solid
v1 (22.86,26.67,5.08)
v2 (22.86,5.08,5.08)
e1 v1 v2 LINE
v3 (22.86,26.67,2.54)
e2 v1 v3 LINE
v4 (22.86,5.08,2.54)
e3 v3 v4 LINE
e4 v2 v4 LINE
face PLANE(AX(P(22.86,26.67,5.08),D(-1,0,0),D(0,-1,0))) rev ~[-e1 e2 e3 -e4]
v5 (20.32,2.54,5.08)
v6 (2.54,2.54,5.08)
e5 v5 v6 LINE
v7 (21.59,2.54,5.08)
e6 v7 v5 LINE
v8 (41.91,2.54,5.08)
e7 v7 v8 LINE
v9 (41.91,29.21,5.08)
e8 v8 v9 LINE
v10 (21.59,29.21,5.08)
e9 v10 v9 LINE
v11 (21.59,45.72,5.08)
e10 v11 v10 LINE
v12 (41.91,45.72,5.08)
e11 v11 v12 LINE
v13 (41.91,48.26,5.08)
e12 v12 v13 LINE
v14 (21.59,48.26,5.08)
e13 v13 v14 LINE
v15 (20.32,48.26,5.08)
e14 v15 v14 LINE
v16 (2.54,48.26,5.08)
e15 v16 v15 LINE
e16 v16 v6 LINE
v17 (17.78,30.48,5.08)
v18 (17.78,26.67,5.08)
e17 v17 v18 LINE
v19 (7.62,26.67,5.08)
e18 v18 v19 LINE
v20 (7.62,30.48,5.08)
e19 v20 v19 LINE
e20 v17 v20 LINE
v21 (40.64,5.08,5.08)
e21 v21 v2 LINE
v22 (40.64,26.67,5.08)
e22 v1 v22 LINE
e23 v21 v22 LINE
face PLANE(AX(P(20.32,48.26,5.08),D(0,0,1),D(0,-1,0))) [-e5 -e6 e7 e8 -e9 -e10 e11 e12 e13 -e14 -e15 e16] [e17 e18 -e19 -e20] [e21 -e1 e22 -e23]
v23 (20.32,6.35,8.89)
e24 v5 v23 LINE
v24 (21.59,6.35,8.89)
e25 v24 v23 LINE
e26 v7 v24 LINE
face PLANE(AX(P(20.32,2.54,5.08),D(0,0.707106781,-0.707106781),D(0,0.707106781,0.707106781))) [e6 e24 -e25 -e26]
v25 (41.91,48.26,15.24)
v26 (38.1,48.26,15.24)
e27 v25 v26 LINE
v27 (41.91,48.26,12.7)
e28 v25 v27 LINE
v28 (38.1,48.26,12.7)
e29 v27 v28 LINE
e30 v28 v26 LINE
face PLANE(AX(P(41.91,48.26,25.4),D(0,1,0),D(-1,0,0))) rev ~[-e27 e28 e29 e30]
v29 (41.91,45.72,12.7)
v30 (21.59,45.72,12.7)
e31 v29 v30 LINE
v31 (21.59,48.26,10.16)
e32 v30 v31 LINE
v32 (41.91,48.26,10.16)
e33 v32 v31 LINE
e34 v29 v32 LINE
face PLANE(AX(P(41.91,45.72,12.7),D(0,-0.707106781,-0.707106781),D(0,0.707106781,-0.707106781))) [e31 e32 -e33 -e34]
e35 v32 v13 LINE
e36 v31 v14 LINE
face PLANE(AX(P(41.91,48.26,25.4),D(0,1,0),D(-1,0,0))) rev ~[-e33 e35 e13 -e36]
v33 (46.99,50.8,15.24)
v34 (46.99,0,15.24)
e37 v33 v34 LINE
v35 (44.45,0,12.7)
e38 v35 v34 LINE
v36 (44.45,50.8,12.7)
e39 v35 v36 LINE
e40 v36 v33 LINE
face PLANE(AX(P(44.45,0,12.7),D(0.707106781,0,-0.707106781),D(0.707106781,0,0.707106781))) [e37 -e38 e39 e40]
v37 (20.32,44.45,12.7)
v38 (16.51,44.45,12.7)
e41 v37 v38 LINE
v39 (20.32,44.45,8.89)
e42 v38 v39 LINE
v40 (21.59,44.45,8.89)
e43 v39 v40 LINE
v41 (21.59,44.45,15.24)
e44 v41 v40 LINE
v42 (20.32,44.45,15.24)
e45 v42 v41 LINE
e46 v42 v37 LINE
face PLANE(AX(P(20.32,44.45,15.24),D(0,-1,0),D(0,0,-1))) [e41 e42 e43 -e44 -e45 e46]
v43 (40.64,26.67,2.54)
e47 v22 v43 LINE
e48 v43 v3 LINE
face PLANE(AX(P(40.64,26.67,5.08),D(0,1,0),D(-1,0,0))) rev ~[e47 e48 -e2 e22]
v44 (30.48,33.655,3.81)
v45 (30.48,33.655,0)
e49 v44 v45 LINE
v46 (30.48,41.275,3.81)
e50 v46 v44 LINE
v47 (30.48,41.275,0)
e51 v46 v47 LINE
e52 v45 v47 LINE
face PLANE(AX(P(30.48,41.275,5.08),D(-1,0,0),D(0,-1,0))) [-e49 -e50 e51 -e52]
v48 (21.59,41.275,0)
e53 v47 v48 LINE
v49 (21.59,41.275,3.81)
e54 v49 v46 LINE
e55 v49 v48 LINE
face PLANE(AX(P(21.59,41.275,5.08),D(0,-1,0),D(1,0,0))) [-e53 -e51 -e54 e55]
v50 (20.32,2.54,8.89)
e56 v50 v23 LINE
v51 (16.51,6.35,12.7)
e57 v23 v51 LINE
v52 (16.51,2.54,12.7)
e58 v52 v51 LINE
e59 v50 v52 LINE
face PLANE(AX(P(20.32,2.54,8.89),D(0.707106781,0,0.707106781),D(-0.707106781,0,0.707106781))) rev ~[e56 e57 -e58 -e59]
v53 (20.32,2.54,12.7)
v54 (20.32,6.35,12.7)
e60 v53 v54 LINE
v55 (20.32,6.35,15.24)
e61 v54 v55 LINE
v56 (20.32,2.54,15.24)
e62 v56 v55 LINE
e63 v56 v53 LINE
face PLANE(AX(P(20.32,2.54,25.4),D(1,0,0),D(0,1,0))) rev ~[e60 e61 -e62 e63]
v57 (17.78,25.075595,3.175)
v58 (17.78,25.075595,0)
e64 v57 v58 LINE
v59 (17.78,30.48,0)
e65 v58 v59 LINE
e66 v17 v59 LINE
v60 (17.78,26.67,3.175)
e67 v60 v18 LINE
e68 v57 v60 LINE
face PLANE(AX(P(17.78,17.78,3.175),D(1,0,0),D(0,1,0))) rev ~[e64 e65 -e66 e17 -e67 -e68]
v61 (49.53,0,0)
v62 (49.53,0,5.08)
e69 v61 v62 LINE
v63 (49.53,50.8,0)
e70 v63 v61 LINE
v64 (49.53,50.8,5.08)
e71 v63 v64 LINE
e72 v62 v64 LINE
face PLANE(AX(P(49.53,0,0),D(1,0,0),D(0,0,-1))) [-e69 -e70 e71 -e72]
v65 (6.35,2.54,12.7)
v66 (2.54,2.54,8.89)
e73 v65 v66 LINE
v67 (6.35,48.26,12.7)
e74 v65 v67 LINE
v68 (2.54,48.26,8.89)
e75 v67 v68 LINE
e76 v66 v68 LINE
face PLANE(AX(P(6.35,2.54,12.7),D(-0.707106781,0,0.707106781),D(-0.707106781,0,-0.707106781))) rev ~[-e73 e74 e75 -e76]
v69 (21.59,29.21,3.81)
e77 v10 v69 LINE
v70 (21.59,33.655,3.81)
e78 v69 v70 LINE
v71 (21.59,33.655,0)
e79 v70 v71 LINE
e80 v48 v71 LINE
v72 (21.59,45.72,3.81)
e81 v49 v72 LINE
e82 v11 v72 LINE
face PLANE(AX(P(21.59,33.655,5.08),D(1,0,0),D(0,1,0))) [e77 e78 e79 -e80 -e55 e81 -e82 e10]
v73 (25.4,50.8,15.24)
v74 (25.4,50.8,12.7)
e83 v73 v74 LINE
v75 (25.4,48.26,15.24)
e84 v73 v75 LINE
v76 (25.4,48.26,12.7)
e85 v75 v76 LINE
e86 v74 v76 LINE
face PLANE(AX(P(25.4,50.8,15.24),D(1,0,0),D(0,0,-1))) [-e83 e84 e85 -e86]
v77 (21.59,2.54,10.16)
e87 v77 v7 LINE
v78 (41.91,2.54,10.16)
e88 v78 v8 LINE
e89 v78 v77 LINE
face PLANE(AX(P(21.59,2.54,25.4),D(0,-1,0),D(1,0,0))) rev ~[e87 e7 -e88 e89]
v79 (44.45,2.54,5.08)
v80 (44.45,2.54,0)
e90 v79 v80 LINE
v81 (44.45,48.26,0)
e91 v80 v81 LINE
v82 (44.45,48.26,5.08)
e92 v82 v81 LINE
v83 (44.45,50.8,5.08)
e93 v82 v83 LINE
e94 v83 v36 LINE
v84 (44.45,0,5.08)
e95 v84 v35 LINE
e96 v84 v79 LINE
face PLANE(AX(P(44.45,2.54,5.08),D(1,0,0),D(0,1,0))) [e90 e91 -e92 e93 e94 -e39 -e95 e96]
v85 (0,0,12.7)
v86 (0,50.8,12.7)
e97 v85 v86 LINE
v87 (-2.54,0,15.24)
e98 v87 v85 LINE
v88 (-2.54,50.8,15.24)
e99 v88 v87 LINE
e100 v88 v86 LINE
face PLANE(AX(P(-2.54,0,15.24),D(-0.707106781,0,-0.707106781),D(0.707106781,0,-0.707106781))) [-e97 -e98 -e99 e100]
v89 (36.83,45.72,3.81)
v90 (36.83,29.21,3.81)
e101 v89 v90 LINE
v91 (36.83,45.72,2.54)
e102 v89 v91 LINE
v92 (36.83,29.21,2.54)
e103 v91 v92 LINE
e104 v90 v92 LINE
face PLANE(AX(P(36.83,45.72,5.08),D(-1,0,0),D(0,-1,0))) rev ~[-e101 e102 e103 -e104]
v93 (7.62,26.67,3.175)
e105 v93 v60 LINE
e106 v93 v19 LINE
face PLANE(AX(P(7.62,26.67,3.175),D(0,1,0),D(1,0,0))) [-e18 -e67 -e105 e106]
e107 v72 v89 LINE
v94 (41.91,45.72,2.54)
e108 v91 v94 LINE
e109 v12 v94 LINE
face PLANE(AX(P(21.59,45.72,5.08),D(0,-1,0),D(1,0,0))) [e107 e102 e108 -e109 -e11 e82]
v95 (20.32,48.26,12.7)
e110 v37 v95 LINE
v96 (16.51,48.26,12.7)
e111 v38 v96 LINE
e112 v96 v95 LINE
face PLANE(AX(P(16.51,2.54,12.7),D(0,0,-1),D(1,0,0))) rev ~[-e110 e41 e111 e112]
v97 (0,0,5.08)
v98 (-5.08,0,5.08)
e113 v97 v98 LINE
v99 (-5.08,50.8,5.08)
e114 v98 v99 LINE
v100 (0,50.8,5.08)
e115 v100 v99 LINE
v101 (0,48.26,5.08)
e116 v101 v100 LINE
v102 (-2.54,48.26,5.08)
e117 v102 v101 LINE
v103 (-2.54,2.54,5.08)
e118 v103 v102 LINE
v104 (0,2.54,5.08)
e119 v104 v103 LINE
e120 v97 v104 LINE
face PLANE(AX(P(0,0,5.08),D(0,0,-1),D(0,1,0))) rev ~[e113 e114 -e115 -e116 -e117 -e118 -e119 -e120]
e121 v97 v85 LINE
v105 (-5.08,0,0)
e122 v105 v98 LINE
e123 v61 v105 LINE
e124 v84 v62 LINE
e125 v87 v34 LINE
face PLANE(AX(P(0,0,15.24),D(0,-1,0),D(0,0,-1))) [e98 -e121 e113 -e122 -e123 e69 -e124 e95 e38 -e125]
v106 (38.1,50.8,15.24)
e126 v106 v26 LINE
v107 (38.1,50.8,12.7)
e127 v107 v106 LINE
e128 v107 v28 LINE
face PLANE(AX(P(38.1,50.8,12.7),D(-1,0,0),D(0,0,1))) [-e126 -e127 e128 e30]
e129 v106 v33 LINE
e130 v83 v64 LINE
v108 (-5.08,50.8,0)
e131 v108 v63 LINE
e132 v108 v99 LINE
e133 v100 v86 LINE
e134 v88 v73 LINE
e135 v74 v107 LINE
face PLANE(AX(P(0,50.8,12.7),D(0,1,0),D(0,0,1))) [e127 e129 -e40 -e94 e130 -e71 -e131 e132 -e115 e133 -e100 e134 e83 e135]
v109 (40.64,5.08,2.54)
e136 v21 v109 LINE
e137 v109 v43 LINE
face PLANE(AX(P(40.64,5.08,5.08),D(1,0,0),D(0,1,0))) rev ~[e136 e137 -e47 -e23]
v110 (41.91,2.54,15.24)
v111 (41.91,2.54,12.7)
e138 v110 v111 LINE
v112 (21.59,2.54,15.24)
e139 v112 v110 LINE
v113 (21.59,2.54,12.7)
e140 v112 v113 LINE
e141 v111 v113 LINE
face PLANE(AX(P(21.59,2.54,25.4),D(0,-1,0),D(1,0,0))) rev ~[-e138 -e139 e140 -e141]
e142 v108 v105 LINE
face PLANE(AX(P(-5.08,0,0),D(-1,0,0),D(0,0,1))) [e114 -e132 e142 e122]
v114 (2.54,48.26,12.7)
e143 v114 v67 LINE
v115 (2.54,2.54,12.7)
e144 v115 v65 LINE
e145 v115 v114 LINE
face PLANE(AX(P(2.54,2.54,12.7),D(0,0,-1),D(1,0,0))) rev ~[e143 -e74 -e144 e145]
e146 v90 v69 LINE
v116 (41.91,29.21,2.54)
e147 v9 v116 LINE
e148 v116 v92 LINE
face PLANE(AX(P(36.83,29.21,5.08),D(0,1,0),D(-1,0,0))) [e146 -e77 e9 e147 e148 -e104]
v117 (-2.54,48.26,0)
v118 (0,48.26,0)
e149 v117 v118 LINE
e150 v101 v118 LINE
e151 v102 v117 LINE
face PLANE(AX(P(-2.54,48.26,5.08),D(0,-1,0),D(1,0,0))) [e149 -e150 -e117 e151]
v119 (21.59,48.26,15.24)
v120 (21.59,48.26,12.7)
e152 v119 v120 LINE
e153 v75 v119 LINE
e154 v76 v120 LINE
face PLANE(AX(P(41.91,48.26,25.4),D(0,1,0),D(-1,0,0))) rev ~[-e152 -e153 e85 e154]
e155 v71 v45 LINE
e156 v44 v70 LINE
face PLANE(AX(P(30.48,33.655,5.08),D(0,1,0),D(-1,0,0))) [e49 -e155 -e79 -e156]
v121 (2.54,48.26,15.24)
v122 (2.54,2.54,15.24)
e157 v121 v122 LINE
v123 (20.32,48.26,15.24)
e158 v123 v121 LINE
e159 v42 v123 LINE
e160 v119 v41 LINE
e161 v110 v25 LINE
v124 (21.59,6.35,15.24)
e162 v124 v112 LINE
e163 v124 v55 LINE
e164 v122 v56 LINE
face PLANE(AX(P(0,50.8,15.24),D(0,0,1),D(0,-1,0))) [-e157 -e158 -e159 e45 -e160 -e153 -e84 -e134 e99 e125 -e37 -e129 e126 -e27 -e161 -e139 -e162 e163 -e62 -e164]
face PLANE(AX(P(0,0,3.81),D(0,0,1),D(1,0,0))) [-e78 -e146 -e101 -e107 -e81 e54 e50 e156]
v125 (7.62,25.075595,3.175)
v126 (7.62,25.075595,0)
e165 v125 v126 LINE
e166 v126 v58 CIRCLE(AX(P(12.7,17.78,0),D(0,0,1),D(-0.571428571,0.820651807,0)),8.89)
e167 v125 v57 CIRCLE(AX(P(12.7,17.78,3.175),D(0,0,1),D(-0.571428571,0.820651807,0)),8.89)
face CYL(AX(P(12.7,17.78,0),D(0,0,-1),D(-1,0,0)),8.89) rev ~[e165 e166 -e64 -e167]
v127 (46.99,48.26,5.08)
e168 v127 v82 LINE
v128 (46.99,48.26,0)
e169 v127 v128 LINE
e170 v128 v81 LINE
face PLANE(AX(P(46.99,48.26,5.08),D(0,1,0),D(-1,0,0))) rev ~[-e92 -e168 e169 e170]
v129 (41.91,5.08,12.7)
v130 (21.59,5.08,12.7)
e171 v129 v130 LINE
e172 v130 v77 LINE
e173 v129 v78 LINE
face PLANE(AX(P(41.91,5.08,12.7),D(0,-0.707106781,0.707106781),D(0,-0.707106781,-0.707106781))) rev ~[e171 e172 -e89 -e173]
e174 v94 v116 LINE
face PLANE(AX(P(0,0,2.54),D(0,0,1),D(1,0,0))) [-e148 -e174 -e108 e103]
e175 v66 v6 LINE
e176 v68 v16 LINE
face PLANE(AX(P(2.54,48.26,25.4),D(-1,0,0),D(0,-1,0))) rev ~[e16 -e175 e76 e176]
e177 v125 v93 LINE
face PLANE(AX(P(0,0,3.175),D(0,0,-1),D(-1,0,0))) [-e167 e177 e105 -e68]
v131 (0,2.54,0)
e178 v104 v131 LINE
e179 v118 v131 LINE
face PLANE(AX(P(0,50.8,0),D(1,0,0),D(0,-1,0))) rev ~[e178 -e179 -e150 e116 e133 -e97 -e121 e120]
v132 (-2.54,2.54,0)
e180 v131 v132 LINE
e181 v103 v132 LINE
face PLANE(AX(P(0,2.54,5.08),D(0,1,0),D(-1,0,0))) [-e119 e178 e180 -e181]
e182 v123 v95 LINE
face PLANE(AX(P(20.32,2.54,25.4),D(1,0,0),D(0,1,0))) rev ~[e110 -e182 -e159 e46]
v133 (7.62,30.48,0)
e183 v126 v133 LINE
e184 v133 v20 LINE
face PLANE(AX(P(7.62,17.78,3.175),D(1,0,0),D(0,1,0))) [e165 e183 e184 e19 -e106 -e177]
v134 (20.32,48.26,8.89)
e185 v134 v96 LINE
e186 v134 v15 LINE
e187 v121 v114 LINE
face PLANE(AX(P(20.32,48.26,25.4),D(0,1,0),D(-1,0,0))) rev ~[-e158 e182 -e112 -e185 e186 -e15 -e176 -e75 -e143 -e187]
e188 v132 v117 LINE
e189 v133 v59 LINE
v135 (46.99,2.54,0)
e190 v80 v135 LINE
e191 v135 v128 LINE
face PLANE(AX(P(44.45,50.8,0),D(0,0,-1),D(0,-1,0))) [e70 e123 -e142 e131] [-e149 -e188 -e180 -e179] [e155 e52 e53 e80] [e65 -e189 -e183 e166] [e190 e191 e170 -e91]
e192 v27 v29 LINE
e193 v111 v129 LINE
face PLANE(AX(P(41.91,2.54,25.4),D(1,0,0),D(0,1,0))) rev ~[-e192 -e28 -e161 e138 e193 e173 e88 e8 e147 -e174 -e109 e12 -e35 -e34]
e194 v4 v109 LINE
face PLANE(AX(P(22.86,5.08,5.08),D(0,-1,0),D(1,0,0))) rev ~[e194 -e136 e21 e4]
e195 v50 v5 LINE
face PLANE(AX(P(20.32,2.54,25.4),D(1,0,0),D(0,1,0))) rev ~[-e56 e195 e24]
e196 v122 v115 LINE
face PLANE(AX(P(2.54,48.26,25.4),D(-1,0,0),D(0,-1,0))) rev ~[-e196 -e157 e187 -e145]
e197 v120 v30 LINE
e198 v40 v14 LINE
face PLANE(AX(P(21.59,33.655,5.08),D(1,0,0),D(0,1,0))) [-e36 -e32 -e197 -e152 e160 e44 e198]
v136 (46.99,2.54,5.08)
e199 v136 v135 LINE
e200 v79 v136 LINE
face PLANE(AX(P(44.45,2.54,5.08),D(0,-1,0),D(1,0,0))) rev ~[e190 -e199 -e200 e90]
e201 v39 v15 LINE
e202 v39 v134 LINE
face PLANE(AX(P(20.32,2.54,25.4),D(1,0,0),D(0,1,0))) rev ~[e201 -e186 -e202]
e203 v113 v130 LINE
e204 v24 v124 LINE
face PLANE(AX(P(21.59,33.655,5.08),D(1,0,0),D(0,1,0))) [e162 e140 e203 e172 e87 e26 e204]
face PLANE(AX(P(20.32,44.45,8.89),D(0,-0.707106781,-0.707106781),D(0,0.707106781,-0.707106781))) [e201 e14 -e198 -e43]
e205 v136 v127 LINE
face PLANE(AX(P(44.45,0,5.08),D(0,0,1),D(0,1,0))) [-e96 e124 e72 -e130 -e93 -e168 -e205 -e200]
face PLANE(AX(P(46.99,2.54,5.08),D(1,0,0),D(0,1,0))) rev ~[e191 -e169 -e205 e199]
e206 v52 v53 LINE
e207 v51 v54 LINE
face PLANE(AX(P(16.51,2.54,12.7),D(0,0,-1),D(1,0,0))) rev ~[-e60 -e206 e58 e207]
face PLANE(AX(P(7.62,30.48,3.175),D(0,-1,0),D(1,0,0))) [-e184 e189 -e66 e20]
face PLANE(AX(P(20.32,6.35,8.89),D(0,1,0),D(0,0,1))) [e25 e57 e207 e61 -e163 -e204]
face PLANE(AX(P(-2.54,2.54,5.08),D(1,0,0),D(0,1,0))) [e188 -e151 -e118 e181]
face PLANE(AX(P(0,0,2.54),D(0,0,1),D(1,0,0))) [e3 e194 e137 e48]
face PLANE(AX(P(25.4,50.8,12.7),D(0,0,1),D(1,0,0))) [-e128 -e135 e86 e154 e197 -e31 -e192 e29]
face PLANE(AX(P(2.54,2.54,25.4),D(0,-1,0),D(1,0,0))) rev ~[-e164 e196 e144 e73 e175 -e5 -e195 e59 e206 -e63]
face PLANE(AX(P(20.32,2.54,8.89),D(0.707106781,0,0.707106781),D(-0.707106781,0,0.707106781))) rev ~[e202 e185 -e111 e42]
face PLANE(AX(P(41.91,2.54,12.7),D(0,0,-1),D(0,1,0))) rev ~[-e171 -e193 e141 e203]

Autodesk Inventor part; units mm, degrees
ref_plane "YZ Plane" through (0, 0, 0) normal (1, 0, 0) x (0, 1, 0)
ref_plane "XZ Plane" through (0, 0, 0) normal (0, 1, 0) x (-1, 0, 0)
ref_plane "XY Plane" through (0, 0, 0) normal (0, 0, 1) x (1, 0, 0)
sketch "Sketch2" plane through (0, 0, 0) normal (0, 0, 1) x (1, 0, 0)
  line L0 (0, 0) -> (44.45, 0)
  line L1 (44.45, 0) -> (44.45, 50.8)
  line L2 (44.45, 50.8) -> (0, 50.8)
  line L3 (0, 50.8) -> (0, 0)
  dimension "d0" = 50.8
  dimension "d1" = 44.45
extrude "Extrusion1" add sketch "Sketch2" along normal blind 25.4
sketch "Sketch3" plane through (0, 0, 25.4) normal (0, 0, 1) x (1, 0, 0)
  line L0 (2.54, 2.54) -> (20.32, 2.54)
  line L1 (20.32, 2.54) -> (20.32, 48.26)
  line L2 (20.32, 48.26) -> (2.54, 48.26)
  line L3 (2.54, 48.26) -> (2.54, 2.54)
  line L4 (0, 0) -> (44.45, 0) projected
  line L5 (0, 50.8) -> (0, 0) projected
  line L6 (44.45, 50.8) -> (0, 50.8) projected
  line L7 (21.59, 2.54) -> (41.91, 2.54)
  line L8 (41.91, 2.54) -> (41.91, 48.26)
  line L9 (41.91, 48.26) -> (21.59, 48.26)
  line L10 (21.59, 48.26) -> (21.59, 2.54)
  line L11 (44.45, 0) -> (44.45, 50.8) projected
  dimension "d4" = 2.54
  dimension "d5" = 2.54
  dimension "d6" = 2.54
  dimension "d7" = 20.32
  dimension "d8" = 2.54
  dimension "d9" = 2.54
  dimension "d10" = 2.54
  dimension "d11" = 22.86
extrude "Extrusion2" cut sketch "Sketch3" against normal blind 20.32 contours L3 L2 L1 L0 | L10 L9 L8 L7
sketch "Sketch4" plane through (0, 0, 0) normal (0, 0, -1) x (-1, 0, 0)
  circle A0 centre (-12.7, 17.78) radius 8.89
  line L0 (0, 50.8) -> (0, 0) projected
  line L1 (0, 0) -> (-44.45, 0) projected
  dimension "d14" = 17.78
  dimension "d17" = 12.7
  dimension "d18" = 17.78
extrude "Extrusion3" cut sketch "Sketch4" against normal blind 3.175
sketch "Sketch5" plane through (0, 0, 0) normal (0, 0, -1) x (-1, 0, 0)
  point P0 (0, 0)
sketch "Sketch6" plane through (12.7, 17.78, 3.175) normal (0, 0, -1) x (-1, 0, 0)
  circle A0 centre (0, 0) radius 8.89 projected
  line L0 (0, 0) -> (-5.08, 0)
  line L1 (-5.08, 0) -> (-5.08, 12.7)
  line L2 (-5.08, 12.7) -> (0, 12.7)
  line L3 (0, 12.7) -> (0, 0)
  line L4 (0, 0) -> (5.08, 0)
  line L5 (5.08, 0) -> (5.08, 12.7)
  line L6 (5.08, 12.7) -> (0, 12.7)
  line L7 (0, 12.7) -> (0, 0)
  point P0 (12.7, -17.78)
  dimension "d21" = 12.7
  dimension "d22" = 5.08
  dimension "d23" = 5.08
extrude "Extrusion4" cut sketch "Sketch6" along normal blind 5.08 contours L5 L4 L3 A0 | A0 L3 L6 L5 | L1 L2 L3 A0 | A0 L3 L0 L1
sketch "Sketch7" plane through (0, 0, 3.175) normal (0, 0, -1) x (-1, 0, 0)
  point P0 (0, 0)
sketch "Sketch8" plane through (0, 0, 3.175) normal (0, 0, -1) x (-1, 0, 0)
  line L0 (-7.62, 25.0756) -> (-7.62, 30.48) projected
  line L1 (-17.78, 30.48) -> (-7.62, 30.48)
  line L2 (-7.62, 30.48) -> (-7.62, 26.67)
  line L3 (-7.62, 26.67) -> (-17.78, 26.67)
  line L4 (-17.78, 26.67) -> (-17.78, 30.48)
  point P0 (0, 0)
  dimension "d26" = 3.81
extrude "Extrusion5" cut sketch "Sketch8" against normal blind 2.54
sketch "Sketch14" plane through (41.91, 2.54, 25.4) normal (-1, 0, 0) x (0, 0, 1)
  line L0 (0, 0) -> (-20.32, 0) projected
  line L1 (0, 45.72) -> (-20.32, 45.72) projected
  line L2 (-12.7, 45.72) -> (-12.7, 43.18)
  line L3 (-12.7, 43.18) -> (-15.24, 45.72)
  line L4 (-12.7, 0) -> (-12.7, 2.54)
  line L5 (-12.7, 2.54) -> (-15.24, 0)
  point P0 (-25.4, -2.54)
  dimension "d52" = 45
  dimension "d53" = 2.54
  dimension "d54" = 2.54
  dimension "d55" = 45
  dimension "d56" = 5.08
  dimension "d57" = 5.08
extrude "Arduino Holder" add sketch "Sketch14" along normal blind 20.32
sketch "Sketch16" plane through (2.54, 2.54, 25.4) normal (0, 1, 0) x (1, 0, 0)
  line L0 (0, 12.7) -> (3.81, 12.7)
  line L1 (3.81, 12.7) -> (0, 16.51)
  line L2 (0, 0) -> (0, 20.32) projected
  line L3 (17.78, 5.08) -> (17.78, 20.32)
  line L4 (17.78, 16.51) -> (13.97, 12.7)
  line L5 (13.97, 12.7) -> (17.78, 12.7)
  line L6 (17.78, 20.32) -> (0, 20.32) projected
  point P0 (-2.54, 25.4)
  dimension "d60" = 45
  dimension "d61" = 3.81
  dimension "d62" = 3.81
  dimension "d64" = 45
  dimension "d144" = 7.62
  dimension "d145" = 7.62
extrude "Bluetooth Holder" add sketch "Sketch16" along normal blind 45.72
sketch "Sketch17" plane through (0, 0, 0) normal (-1, 0, 0) x (0, 0, 1)
  line L0 (0, 50.8) -> (25.4, 50.8) projected
  line L1 (0, 0) -> (5.08, 0)
  line L2 (5.08, 0) -> (5.08, 50.8)
  line L3 (5.08, 50.8) -> (0, 50.8)
  line L4 (0, 50.8) -> (0, 0)
  dimension "d68" = 5.08
extrude "Extrusion13" add sketch "Sketch17" along normal blind 5.08
sketch "Sketch18" plane through (0, 0, 5.08) normal (0, 0, 1) x (1, 0, 0)
  line L0 (0, 50.8) -> (0, 0) projected
  line L1 (0, 2.54) -> (-2.54, 2.54)
  line L2 (-2.54, 2.54) -> (-2.54, 48.26)
  line L3 (-2.54, 48.26) -> (0, 48.26)
  line L4 (0, 48.26) -> (0, 2.54)
  line L5 (0, 50.8) -> (-5.08, 50.8) projected
  line L6 (0, 0) -> (-5.08, 0) projected
  dimension "d71" = 2.54
  dimension "d72" = 2.54
  dimension "d73" = 2.54
extrude "Extrusion14" cut sketch "Sketch18" against normal blind 5.08
sketch "Sketch19" plane through (44.45, 0, 0) normal (1, 0, 0) x (0, 0, -1)
  line L0 (0, 50.8) -> (-25.4, 50.8) projected
  line L1 (0, 0) -> (-5.08, 0)
  line L2 (-5.08, 0) -> (-5.08, 50.8)
  line L3 (-5.08, 50.8) -> (0, 50.8)
  line L4 (0, 50.8) -> (0, 0)
  dimension "d76" = 5.08
extrude "Extrusion15" add sketch "Sketch19" along normal blind 5.08
sketch "Sketch21" plane through (44.45, 0, 5.08) normal (0, 0, 1) x (1, 0, 0)
  line L0 (0, 0) -> (0, 50.8) projected
  line L1 (0, 2.54) -> (2.54, 2.54)
  line L2 (2.54, 2.54) -> (2.54, 48.26)
  line L3 (2.54, 48.26) -> (0, 48.26)
  line L4 (0, 48.26) -> (0, 2.54)
  line L5 (0, 50.8) -> (5.08, 50.8) projected
  line L6 (0, 0) -> (5.08, 0) projected
  line L7 (5.08, 50.8) -> (5.08, 0) projected
  point P0 (-44.45, 0)
  dimension "d79" = 2.54
  dimension "d81" = 2.54
  dimension "d82" = 2.54
extrude "Extrusion16" cut sketch "Sketch21" against normal blind 5.08 contours L0 L3 L2 L1
sketch "Sketch28" plane through (0, 0, 25.4) normal (-1, 0, 0) x (0, 0, 1)
  line L0 (-20.32, 0) -> (0, 0) projected
  line L1 (0, 50.8) -> (-10.16, 50.8)
  line L2 (-10.16, 50.8) -> (-10.16, 0)
  line L3 (-10.16, 0) -> (0, 0)
  line L4 (0, 0) -> (0, 50.8)
  point P0 (-25.4, 0)
  dimension "d141" = 10.16
extrude "Height Reduce" cut sketch "Sketch28" against normal blind 48.26
sketch "Sketch30" plane through (0, 0, 5.08) normal (0, 0, 1) x (1, 0, 0)
  line L0 (22.86, 5.08) -> (40.64, 5.08)
  line L1 (40.64, 5.08) -> (40.64, 26.67)
  line L2 (40.64, 26.67) -> (22.86, 26.67)
  line L3 (22.86, 26.67) -> (22.86, 5.08)
  line L4 (21.59, 2.54) -> (21.59, 48.26) projected
  line L5 (41.91, 48.26) -> (41.91, 2.54) projected
  line L6 (41.91, 2.54) -> (21.59, 2.54) projected
  point P0 (0, 0)
  point P1 (24.13, 12.7)
  point P2 (44.45, 30.48)
  dimension "d146" = 1.27
  dimension "d147" = 1.27
  dimension "d148" = 21.59
  dimension "d149" = 2.54
  dimension "d150" = 17.78
extrude "Extrusion27" cut sketch "Sketch30" against normal blind 2.54
sketch "Sketch31" plane through (0, 0, 5.08) normal (0, 0, 1) x (1, 0, 0)
  line L0 (21.59, 2.54) -> (21.59, 48.26) projected
  line L1 (41.91, 48.26) -> (41.91, 2.54) projected
  line L2 (21.59, 45.72) -> (41.91, 45.72)
  line L3 (41.91, 45.72) -> (41.91, 29.21)
  line L4 (41.91, 29.21) -> (21.59, 29.21)
  line L5 (21.59, 29.21) -> (21.59, 45.72)
  line L6 (21.59, 48.26) -> (41.91, 48.26) projected
  line L7 (21.59, 41.275) -> (30.48, 41.275)
  line L8 (30.48, 41.275) -> (30.48, 33.655)
  line L9 (30.48, 33.655) -> (21.59, 33.655)
  line L10 (21.59, 33.655) -> (21.59, 41.275)
  line L11 (41.91, 45.72) -> (36.83, 45.72)
  line L12 (36.83, 45.72) -> (36.83, 29.21)
  line L13 (36.83, 29.21) -> (41.91, 29.21)
  line L14 (41.91, 29.21) -> (41.91, 45.72)
  point P0 (0, 0)
  point P1 (24.13, 33.02)
  dimension "d157" = 2.54
  dimension "d158" = 16.51
  dimension "d159" = 4.445
  dimension "d160" = 7.62
  dimension "d161" = 8.89
  dimension "d162" = 4.445
  dimension "d163" = 5.08
extrude "Extrusion28" cut sketch "Sketch31" against normal blind 25.4 contours L0 L7 L8 L9
extrude "Extrusion29" cut sketch "Sketch31" against normal blind 2.54 contours L12 L2 L1 L4
extrude "Extrusion30" cut sketch "Sketch31" against normal blind 1.27 contours L0 L9 L8 L7 L2 L12 L4
sketch "Sketch33" plane through (44.45, 2.54, 0) normal (1, 0, 0) x (0, 0, -1)
  line L0 (-5.08, 48.26) -> (-15.24, 48.26) projected
  line L1 (-15.24, -2.54) -> (-12.7, -2.54)
  line L2 (-12.7, -2.54) -> (-12.7, 48.26)
  line L3 (-12.7, 48.26) -> (-15.24, 48.26)
  line L4 (-15.24, 48.26) -> (-15.24, -2.54)
  point P0 (0, -2.54)
  dimension "d194" = 2.54
extrude "Extrusion33" add sketch "Sketch33" along normal blind 2.54
sketch "Sketch35" plane through (0, 2.54, 0) normal (-1, 0, 0) x (0, 0, 1)
  line L0 (5.08, 48.26) -> (15.24, 48.26) projected
  line L1 (15.24, -2.54) -> (12.7, -2.54)
  line L2 (12.7, -2.54) -> (12.7, 48.26)
  line L3 (12.7, 48.26) -> (15.24, 48.26)
  line L4 (15.24, 48.26) -> (15.24, -2.54)
  point P0 (0, -2.54)
  dimension "d197" = 2.54
extrude "Extrusion34" add sketch "Sketch35" along normal blind 2.54
sketch "Sketch36" plane through (-5.08, 0, 5.08) normal (0, -1, 0) x (1, 0, 0)
  line L0 (2.54, 10.16) -> (5.08, 7.62)
  line L1 (5.08, 7.62) -> (2.54, 7.62)
  line L2 (5.08, 7.62) -> (2.54, 7.62) projected
  line L3 (2.54, 7.62) -> (2.54, 10.16)
  line L4 (49.53, 7.62) -> (52.07, 10.16)
  line L5 (52.07, 10.16) -> (52.07, 7.62)
  line L6 (52.07, 7.62) -> (49.53, 7.62)
  point P0 (5.08, -5.08)
extrude "Extrusion35" cut sketch "Sketch36" against normal blind 50.8
sketch "Sketch37" plane through (-5.08, 50.8, 5.08) normal (0, 1, 0) x (1, 0, 0)
  line L0 (52.07, -10.16) -> (2.54, -10.16) projected
  line L1 (43.18, -10.16) -> (30.48, -10.16)
  line L2 (30.48, -10.16) -> (30.48, -7.62)
  line L3 (30.48, -7.62) -> (43.18, -7.62)
  line L4 (43.18, -7.62) -> (43.18, -10.16)
  line L5 (26.67, -10.16) -> (26.67, -7.62) projected
  line L6 (46.99, -10.16) -> (46.99, -7.62) projected
  point P0 (5.08, 5.08)
  dimension "d202" = 2.54
  dimension "d203" = 12.7
  dimension "d204" = 3.81
  dimension "d205" = 3.81
extrude "USB hole" cut sketch "Sketch37" against normal blind 2.54
sketch "Sketch38" plane through (20.32, 2.54, 5.08) normal (-1, 0, 0) x (0, 0, 1)
  line L0 (0, 0) -> (3.81, 3.81)
  line L1 (3.81, 3.81) -> (3.81, 41.91)
  line L2 (3.81, 41.91) -> (0, 45.72)
  line L3 (0, 45.72) -> (0, 0)
  line L4 (3.81, 3.81) -> (10.16, 3.81)
  line L5 (10.16, 3.81) -> (10.16, 41.91)
  line L6 (10.16, 0) -> (10.16, 45.72) projected
  line L7 (10.16, 41.91) -> (3.81, 41.91)
  point P0 (-5.08, -2.54)
  dimension "d209" = 3.81
  dimension "d210" = 135
  dimension "d211" = 135
extrude "Center column remove" cut sketch "Sketch38" along normal mid plane 7.62
properties part number "nano_enclosure_v3"
